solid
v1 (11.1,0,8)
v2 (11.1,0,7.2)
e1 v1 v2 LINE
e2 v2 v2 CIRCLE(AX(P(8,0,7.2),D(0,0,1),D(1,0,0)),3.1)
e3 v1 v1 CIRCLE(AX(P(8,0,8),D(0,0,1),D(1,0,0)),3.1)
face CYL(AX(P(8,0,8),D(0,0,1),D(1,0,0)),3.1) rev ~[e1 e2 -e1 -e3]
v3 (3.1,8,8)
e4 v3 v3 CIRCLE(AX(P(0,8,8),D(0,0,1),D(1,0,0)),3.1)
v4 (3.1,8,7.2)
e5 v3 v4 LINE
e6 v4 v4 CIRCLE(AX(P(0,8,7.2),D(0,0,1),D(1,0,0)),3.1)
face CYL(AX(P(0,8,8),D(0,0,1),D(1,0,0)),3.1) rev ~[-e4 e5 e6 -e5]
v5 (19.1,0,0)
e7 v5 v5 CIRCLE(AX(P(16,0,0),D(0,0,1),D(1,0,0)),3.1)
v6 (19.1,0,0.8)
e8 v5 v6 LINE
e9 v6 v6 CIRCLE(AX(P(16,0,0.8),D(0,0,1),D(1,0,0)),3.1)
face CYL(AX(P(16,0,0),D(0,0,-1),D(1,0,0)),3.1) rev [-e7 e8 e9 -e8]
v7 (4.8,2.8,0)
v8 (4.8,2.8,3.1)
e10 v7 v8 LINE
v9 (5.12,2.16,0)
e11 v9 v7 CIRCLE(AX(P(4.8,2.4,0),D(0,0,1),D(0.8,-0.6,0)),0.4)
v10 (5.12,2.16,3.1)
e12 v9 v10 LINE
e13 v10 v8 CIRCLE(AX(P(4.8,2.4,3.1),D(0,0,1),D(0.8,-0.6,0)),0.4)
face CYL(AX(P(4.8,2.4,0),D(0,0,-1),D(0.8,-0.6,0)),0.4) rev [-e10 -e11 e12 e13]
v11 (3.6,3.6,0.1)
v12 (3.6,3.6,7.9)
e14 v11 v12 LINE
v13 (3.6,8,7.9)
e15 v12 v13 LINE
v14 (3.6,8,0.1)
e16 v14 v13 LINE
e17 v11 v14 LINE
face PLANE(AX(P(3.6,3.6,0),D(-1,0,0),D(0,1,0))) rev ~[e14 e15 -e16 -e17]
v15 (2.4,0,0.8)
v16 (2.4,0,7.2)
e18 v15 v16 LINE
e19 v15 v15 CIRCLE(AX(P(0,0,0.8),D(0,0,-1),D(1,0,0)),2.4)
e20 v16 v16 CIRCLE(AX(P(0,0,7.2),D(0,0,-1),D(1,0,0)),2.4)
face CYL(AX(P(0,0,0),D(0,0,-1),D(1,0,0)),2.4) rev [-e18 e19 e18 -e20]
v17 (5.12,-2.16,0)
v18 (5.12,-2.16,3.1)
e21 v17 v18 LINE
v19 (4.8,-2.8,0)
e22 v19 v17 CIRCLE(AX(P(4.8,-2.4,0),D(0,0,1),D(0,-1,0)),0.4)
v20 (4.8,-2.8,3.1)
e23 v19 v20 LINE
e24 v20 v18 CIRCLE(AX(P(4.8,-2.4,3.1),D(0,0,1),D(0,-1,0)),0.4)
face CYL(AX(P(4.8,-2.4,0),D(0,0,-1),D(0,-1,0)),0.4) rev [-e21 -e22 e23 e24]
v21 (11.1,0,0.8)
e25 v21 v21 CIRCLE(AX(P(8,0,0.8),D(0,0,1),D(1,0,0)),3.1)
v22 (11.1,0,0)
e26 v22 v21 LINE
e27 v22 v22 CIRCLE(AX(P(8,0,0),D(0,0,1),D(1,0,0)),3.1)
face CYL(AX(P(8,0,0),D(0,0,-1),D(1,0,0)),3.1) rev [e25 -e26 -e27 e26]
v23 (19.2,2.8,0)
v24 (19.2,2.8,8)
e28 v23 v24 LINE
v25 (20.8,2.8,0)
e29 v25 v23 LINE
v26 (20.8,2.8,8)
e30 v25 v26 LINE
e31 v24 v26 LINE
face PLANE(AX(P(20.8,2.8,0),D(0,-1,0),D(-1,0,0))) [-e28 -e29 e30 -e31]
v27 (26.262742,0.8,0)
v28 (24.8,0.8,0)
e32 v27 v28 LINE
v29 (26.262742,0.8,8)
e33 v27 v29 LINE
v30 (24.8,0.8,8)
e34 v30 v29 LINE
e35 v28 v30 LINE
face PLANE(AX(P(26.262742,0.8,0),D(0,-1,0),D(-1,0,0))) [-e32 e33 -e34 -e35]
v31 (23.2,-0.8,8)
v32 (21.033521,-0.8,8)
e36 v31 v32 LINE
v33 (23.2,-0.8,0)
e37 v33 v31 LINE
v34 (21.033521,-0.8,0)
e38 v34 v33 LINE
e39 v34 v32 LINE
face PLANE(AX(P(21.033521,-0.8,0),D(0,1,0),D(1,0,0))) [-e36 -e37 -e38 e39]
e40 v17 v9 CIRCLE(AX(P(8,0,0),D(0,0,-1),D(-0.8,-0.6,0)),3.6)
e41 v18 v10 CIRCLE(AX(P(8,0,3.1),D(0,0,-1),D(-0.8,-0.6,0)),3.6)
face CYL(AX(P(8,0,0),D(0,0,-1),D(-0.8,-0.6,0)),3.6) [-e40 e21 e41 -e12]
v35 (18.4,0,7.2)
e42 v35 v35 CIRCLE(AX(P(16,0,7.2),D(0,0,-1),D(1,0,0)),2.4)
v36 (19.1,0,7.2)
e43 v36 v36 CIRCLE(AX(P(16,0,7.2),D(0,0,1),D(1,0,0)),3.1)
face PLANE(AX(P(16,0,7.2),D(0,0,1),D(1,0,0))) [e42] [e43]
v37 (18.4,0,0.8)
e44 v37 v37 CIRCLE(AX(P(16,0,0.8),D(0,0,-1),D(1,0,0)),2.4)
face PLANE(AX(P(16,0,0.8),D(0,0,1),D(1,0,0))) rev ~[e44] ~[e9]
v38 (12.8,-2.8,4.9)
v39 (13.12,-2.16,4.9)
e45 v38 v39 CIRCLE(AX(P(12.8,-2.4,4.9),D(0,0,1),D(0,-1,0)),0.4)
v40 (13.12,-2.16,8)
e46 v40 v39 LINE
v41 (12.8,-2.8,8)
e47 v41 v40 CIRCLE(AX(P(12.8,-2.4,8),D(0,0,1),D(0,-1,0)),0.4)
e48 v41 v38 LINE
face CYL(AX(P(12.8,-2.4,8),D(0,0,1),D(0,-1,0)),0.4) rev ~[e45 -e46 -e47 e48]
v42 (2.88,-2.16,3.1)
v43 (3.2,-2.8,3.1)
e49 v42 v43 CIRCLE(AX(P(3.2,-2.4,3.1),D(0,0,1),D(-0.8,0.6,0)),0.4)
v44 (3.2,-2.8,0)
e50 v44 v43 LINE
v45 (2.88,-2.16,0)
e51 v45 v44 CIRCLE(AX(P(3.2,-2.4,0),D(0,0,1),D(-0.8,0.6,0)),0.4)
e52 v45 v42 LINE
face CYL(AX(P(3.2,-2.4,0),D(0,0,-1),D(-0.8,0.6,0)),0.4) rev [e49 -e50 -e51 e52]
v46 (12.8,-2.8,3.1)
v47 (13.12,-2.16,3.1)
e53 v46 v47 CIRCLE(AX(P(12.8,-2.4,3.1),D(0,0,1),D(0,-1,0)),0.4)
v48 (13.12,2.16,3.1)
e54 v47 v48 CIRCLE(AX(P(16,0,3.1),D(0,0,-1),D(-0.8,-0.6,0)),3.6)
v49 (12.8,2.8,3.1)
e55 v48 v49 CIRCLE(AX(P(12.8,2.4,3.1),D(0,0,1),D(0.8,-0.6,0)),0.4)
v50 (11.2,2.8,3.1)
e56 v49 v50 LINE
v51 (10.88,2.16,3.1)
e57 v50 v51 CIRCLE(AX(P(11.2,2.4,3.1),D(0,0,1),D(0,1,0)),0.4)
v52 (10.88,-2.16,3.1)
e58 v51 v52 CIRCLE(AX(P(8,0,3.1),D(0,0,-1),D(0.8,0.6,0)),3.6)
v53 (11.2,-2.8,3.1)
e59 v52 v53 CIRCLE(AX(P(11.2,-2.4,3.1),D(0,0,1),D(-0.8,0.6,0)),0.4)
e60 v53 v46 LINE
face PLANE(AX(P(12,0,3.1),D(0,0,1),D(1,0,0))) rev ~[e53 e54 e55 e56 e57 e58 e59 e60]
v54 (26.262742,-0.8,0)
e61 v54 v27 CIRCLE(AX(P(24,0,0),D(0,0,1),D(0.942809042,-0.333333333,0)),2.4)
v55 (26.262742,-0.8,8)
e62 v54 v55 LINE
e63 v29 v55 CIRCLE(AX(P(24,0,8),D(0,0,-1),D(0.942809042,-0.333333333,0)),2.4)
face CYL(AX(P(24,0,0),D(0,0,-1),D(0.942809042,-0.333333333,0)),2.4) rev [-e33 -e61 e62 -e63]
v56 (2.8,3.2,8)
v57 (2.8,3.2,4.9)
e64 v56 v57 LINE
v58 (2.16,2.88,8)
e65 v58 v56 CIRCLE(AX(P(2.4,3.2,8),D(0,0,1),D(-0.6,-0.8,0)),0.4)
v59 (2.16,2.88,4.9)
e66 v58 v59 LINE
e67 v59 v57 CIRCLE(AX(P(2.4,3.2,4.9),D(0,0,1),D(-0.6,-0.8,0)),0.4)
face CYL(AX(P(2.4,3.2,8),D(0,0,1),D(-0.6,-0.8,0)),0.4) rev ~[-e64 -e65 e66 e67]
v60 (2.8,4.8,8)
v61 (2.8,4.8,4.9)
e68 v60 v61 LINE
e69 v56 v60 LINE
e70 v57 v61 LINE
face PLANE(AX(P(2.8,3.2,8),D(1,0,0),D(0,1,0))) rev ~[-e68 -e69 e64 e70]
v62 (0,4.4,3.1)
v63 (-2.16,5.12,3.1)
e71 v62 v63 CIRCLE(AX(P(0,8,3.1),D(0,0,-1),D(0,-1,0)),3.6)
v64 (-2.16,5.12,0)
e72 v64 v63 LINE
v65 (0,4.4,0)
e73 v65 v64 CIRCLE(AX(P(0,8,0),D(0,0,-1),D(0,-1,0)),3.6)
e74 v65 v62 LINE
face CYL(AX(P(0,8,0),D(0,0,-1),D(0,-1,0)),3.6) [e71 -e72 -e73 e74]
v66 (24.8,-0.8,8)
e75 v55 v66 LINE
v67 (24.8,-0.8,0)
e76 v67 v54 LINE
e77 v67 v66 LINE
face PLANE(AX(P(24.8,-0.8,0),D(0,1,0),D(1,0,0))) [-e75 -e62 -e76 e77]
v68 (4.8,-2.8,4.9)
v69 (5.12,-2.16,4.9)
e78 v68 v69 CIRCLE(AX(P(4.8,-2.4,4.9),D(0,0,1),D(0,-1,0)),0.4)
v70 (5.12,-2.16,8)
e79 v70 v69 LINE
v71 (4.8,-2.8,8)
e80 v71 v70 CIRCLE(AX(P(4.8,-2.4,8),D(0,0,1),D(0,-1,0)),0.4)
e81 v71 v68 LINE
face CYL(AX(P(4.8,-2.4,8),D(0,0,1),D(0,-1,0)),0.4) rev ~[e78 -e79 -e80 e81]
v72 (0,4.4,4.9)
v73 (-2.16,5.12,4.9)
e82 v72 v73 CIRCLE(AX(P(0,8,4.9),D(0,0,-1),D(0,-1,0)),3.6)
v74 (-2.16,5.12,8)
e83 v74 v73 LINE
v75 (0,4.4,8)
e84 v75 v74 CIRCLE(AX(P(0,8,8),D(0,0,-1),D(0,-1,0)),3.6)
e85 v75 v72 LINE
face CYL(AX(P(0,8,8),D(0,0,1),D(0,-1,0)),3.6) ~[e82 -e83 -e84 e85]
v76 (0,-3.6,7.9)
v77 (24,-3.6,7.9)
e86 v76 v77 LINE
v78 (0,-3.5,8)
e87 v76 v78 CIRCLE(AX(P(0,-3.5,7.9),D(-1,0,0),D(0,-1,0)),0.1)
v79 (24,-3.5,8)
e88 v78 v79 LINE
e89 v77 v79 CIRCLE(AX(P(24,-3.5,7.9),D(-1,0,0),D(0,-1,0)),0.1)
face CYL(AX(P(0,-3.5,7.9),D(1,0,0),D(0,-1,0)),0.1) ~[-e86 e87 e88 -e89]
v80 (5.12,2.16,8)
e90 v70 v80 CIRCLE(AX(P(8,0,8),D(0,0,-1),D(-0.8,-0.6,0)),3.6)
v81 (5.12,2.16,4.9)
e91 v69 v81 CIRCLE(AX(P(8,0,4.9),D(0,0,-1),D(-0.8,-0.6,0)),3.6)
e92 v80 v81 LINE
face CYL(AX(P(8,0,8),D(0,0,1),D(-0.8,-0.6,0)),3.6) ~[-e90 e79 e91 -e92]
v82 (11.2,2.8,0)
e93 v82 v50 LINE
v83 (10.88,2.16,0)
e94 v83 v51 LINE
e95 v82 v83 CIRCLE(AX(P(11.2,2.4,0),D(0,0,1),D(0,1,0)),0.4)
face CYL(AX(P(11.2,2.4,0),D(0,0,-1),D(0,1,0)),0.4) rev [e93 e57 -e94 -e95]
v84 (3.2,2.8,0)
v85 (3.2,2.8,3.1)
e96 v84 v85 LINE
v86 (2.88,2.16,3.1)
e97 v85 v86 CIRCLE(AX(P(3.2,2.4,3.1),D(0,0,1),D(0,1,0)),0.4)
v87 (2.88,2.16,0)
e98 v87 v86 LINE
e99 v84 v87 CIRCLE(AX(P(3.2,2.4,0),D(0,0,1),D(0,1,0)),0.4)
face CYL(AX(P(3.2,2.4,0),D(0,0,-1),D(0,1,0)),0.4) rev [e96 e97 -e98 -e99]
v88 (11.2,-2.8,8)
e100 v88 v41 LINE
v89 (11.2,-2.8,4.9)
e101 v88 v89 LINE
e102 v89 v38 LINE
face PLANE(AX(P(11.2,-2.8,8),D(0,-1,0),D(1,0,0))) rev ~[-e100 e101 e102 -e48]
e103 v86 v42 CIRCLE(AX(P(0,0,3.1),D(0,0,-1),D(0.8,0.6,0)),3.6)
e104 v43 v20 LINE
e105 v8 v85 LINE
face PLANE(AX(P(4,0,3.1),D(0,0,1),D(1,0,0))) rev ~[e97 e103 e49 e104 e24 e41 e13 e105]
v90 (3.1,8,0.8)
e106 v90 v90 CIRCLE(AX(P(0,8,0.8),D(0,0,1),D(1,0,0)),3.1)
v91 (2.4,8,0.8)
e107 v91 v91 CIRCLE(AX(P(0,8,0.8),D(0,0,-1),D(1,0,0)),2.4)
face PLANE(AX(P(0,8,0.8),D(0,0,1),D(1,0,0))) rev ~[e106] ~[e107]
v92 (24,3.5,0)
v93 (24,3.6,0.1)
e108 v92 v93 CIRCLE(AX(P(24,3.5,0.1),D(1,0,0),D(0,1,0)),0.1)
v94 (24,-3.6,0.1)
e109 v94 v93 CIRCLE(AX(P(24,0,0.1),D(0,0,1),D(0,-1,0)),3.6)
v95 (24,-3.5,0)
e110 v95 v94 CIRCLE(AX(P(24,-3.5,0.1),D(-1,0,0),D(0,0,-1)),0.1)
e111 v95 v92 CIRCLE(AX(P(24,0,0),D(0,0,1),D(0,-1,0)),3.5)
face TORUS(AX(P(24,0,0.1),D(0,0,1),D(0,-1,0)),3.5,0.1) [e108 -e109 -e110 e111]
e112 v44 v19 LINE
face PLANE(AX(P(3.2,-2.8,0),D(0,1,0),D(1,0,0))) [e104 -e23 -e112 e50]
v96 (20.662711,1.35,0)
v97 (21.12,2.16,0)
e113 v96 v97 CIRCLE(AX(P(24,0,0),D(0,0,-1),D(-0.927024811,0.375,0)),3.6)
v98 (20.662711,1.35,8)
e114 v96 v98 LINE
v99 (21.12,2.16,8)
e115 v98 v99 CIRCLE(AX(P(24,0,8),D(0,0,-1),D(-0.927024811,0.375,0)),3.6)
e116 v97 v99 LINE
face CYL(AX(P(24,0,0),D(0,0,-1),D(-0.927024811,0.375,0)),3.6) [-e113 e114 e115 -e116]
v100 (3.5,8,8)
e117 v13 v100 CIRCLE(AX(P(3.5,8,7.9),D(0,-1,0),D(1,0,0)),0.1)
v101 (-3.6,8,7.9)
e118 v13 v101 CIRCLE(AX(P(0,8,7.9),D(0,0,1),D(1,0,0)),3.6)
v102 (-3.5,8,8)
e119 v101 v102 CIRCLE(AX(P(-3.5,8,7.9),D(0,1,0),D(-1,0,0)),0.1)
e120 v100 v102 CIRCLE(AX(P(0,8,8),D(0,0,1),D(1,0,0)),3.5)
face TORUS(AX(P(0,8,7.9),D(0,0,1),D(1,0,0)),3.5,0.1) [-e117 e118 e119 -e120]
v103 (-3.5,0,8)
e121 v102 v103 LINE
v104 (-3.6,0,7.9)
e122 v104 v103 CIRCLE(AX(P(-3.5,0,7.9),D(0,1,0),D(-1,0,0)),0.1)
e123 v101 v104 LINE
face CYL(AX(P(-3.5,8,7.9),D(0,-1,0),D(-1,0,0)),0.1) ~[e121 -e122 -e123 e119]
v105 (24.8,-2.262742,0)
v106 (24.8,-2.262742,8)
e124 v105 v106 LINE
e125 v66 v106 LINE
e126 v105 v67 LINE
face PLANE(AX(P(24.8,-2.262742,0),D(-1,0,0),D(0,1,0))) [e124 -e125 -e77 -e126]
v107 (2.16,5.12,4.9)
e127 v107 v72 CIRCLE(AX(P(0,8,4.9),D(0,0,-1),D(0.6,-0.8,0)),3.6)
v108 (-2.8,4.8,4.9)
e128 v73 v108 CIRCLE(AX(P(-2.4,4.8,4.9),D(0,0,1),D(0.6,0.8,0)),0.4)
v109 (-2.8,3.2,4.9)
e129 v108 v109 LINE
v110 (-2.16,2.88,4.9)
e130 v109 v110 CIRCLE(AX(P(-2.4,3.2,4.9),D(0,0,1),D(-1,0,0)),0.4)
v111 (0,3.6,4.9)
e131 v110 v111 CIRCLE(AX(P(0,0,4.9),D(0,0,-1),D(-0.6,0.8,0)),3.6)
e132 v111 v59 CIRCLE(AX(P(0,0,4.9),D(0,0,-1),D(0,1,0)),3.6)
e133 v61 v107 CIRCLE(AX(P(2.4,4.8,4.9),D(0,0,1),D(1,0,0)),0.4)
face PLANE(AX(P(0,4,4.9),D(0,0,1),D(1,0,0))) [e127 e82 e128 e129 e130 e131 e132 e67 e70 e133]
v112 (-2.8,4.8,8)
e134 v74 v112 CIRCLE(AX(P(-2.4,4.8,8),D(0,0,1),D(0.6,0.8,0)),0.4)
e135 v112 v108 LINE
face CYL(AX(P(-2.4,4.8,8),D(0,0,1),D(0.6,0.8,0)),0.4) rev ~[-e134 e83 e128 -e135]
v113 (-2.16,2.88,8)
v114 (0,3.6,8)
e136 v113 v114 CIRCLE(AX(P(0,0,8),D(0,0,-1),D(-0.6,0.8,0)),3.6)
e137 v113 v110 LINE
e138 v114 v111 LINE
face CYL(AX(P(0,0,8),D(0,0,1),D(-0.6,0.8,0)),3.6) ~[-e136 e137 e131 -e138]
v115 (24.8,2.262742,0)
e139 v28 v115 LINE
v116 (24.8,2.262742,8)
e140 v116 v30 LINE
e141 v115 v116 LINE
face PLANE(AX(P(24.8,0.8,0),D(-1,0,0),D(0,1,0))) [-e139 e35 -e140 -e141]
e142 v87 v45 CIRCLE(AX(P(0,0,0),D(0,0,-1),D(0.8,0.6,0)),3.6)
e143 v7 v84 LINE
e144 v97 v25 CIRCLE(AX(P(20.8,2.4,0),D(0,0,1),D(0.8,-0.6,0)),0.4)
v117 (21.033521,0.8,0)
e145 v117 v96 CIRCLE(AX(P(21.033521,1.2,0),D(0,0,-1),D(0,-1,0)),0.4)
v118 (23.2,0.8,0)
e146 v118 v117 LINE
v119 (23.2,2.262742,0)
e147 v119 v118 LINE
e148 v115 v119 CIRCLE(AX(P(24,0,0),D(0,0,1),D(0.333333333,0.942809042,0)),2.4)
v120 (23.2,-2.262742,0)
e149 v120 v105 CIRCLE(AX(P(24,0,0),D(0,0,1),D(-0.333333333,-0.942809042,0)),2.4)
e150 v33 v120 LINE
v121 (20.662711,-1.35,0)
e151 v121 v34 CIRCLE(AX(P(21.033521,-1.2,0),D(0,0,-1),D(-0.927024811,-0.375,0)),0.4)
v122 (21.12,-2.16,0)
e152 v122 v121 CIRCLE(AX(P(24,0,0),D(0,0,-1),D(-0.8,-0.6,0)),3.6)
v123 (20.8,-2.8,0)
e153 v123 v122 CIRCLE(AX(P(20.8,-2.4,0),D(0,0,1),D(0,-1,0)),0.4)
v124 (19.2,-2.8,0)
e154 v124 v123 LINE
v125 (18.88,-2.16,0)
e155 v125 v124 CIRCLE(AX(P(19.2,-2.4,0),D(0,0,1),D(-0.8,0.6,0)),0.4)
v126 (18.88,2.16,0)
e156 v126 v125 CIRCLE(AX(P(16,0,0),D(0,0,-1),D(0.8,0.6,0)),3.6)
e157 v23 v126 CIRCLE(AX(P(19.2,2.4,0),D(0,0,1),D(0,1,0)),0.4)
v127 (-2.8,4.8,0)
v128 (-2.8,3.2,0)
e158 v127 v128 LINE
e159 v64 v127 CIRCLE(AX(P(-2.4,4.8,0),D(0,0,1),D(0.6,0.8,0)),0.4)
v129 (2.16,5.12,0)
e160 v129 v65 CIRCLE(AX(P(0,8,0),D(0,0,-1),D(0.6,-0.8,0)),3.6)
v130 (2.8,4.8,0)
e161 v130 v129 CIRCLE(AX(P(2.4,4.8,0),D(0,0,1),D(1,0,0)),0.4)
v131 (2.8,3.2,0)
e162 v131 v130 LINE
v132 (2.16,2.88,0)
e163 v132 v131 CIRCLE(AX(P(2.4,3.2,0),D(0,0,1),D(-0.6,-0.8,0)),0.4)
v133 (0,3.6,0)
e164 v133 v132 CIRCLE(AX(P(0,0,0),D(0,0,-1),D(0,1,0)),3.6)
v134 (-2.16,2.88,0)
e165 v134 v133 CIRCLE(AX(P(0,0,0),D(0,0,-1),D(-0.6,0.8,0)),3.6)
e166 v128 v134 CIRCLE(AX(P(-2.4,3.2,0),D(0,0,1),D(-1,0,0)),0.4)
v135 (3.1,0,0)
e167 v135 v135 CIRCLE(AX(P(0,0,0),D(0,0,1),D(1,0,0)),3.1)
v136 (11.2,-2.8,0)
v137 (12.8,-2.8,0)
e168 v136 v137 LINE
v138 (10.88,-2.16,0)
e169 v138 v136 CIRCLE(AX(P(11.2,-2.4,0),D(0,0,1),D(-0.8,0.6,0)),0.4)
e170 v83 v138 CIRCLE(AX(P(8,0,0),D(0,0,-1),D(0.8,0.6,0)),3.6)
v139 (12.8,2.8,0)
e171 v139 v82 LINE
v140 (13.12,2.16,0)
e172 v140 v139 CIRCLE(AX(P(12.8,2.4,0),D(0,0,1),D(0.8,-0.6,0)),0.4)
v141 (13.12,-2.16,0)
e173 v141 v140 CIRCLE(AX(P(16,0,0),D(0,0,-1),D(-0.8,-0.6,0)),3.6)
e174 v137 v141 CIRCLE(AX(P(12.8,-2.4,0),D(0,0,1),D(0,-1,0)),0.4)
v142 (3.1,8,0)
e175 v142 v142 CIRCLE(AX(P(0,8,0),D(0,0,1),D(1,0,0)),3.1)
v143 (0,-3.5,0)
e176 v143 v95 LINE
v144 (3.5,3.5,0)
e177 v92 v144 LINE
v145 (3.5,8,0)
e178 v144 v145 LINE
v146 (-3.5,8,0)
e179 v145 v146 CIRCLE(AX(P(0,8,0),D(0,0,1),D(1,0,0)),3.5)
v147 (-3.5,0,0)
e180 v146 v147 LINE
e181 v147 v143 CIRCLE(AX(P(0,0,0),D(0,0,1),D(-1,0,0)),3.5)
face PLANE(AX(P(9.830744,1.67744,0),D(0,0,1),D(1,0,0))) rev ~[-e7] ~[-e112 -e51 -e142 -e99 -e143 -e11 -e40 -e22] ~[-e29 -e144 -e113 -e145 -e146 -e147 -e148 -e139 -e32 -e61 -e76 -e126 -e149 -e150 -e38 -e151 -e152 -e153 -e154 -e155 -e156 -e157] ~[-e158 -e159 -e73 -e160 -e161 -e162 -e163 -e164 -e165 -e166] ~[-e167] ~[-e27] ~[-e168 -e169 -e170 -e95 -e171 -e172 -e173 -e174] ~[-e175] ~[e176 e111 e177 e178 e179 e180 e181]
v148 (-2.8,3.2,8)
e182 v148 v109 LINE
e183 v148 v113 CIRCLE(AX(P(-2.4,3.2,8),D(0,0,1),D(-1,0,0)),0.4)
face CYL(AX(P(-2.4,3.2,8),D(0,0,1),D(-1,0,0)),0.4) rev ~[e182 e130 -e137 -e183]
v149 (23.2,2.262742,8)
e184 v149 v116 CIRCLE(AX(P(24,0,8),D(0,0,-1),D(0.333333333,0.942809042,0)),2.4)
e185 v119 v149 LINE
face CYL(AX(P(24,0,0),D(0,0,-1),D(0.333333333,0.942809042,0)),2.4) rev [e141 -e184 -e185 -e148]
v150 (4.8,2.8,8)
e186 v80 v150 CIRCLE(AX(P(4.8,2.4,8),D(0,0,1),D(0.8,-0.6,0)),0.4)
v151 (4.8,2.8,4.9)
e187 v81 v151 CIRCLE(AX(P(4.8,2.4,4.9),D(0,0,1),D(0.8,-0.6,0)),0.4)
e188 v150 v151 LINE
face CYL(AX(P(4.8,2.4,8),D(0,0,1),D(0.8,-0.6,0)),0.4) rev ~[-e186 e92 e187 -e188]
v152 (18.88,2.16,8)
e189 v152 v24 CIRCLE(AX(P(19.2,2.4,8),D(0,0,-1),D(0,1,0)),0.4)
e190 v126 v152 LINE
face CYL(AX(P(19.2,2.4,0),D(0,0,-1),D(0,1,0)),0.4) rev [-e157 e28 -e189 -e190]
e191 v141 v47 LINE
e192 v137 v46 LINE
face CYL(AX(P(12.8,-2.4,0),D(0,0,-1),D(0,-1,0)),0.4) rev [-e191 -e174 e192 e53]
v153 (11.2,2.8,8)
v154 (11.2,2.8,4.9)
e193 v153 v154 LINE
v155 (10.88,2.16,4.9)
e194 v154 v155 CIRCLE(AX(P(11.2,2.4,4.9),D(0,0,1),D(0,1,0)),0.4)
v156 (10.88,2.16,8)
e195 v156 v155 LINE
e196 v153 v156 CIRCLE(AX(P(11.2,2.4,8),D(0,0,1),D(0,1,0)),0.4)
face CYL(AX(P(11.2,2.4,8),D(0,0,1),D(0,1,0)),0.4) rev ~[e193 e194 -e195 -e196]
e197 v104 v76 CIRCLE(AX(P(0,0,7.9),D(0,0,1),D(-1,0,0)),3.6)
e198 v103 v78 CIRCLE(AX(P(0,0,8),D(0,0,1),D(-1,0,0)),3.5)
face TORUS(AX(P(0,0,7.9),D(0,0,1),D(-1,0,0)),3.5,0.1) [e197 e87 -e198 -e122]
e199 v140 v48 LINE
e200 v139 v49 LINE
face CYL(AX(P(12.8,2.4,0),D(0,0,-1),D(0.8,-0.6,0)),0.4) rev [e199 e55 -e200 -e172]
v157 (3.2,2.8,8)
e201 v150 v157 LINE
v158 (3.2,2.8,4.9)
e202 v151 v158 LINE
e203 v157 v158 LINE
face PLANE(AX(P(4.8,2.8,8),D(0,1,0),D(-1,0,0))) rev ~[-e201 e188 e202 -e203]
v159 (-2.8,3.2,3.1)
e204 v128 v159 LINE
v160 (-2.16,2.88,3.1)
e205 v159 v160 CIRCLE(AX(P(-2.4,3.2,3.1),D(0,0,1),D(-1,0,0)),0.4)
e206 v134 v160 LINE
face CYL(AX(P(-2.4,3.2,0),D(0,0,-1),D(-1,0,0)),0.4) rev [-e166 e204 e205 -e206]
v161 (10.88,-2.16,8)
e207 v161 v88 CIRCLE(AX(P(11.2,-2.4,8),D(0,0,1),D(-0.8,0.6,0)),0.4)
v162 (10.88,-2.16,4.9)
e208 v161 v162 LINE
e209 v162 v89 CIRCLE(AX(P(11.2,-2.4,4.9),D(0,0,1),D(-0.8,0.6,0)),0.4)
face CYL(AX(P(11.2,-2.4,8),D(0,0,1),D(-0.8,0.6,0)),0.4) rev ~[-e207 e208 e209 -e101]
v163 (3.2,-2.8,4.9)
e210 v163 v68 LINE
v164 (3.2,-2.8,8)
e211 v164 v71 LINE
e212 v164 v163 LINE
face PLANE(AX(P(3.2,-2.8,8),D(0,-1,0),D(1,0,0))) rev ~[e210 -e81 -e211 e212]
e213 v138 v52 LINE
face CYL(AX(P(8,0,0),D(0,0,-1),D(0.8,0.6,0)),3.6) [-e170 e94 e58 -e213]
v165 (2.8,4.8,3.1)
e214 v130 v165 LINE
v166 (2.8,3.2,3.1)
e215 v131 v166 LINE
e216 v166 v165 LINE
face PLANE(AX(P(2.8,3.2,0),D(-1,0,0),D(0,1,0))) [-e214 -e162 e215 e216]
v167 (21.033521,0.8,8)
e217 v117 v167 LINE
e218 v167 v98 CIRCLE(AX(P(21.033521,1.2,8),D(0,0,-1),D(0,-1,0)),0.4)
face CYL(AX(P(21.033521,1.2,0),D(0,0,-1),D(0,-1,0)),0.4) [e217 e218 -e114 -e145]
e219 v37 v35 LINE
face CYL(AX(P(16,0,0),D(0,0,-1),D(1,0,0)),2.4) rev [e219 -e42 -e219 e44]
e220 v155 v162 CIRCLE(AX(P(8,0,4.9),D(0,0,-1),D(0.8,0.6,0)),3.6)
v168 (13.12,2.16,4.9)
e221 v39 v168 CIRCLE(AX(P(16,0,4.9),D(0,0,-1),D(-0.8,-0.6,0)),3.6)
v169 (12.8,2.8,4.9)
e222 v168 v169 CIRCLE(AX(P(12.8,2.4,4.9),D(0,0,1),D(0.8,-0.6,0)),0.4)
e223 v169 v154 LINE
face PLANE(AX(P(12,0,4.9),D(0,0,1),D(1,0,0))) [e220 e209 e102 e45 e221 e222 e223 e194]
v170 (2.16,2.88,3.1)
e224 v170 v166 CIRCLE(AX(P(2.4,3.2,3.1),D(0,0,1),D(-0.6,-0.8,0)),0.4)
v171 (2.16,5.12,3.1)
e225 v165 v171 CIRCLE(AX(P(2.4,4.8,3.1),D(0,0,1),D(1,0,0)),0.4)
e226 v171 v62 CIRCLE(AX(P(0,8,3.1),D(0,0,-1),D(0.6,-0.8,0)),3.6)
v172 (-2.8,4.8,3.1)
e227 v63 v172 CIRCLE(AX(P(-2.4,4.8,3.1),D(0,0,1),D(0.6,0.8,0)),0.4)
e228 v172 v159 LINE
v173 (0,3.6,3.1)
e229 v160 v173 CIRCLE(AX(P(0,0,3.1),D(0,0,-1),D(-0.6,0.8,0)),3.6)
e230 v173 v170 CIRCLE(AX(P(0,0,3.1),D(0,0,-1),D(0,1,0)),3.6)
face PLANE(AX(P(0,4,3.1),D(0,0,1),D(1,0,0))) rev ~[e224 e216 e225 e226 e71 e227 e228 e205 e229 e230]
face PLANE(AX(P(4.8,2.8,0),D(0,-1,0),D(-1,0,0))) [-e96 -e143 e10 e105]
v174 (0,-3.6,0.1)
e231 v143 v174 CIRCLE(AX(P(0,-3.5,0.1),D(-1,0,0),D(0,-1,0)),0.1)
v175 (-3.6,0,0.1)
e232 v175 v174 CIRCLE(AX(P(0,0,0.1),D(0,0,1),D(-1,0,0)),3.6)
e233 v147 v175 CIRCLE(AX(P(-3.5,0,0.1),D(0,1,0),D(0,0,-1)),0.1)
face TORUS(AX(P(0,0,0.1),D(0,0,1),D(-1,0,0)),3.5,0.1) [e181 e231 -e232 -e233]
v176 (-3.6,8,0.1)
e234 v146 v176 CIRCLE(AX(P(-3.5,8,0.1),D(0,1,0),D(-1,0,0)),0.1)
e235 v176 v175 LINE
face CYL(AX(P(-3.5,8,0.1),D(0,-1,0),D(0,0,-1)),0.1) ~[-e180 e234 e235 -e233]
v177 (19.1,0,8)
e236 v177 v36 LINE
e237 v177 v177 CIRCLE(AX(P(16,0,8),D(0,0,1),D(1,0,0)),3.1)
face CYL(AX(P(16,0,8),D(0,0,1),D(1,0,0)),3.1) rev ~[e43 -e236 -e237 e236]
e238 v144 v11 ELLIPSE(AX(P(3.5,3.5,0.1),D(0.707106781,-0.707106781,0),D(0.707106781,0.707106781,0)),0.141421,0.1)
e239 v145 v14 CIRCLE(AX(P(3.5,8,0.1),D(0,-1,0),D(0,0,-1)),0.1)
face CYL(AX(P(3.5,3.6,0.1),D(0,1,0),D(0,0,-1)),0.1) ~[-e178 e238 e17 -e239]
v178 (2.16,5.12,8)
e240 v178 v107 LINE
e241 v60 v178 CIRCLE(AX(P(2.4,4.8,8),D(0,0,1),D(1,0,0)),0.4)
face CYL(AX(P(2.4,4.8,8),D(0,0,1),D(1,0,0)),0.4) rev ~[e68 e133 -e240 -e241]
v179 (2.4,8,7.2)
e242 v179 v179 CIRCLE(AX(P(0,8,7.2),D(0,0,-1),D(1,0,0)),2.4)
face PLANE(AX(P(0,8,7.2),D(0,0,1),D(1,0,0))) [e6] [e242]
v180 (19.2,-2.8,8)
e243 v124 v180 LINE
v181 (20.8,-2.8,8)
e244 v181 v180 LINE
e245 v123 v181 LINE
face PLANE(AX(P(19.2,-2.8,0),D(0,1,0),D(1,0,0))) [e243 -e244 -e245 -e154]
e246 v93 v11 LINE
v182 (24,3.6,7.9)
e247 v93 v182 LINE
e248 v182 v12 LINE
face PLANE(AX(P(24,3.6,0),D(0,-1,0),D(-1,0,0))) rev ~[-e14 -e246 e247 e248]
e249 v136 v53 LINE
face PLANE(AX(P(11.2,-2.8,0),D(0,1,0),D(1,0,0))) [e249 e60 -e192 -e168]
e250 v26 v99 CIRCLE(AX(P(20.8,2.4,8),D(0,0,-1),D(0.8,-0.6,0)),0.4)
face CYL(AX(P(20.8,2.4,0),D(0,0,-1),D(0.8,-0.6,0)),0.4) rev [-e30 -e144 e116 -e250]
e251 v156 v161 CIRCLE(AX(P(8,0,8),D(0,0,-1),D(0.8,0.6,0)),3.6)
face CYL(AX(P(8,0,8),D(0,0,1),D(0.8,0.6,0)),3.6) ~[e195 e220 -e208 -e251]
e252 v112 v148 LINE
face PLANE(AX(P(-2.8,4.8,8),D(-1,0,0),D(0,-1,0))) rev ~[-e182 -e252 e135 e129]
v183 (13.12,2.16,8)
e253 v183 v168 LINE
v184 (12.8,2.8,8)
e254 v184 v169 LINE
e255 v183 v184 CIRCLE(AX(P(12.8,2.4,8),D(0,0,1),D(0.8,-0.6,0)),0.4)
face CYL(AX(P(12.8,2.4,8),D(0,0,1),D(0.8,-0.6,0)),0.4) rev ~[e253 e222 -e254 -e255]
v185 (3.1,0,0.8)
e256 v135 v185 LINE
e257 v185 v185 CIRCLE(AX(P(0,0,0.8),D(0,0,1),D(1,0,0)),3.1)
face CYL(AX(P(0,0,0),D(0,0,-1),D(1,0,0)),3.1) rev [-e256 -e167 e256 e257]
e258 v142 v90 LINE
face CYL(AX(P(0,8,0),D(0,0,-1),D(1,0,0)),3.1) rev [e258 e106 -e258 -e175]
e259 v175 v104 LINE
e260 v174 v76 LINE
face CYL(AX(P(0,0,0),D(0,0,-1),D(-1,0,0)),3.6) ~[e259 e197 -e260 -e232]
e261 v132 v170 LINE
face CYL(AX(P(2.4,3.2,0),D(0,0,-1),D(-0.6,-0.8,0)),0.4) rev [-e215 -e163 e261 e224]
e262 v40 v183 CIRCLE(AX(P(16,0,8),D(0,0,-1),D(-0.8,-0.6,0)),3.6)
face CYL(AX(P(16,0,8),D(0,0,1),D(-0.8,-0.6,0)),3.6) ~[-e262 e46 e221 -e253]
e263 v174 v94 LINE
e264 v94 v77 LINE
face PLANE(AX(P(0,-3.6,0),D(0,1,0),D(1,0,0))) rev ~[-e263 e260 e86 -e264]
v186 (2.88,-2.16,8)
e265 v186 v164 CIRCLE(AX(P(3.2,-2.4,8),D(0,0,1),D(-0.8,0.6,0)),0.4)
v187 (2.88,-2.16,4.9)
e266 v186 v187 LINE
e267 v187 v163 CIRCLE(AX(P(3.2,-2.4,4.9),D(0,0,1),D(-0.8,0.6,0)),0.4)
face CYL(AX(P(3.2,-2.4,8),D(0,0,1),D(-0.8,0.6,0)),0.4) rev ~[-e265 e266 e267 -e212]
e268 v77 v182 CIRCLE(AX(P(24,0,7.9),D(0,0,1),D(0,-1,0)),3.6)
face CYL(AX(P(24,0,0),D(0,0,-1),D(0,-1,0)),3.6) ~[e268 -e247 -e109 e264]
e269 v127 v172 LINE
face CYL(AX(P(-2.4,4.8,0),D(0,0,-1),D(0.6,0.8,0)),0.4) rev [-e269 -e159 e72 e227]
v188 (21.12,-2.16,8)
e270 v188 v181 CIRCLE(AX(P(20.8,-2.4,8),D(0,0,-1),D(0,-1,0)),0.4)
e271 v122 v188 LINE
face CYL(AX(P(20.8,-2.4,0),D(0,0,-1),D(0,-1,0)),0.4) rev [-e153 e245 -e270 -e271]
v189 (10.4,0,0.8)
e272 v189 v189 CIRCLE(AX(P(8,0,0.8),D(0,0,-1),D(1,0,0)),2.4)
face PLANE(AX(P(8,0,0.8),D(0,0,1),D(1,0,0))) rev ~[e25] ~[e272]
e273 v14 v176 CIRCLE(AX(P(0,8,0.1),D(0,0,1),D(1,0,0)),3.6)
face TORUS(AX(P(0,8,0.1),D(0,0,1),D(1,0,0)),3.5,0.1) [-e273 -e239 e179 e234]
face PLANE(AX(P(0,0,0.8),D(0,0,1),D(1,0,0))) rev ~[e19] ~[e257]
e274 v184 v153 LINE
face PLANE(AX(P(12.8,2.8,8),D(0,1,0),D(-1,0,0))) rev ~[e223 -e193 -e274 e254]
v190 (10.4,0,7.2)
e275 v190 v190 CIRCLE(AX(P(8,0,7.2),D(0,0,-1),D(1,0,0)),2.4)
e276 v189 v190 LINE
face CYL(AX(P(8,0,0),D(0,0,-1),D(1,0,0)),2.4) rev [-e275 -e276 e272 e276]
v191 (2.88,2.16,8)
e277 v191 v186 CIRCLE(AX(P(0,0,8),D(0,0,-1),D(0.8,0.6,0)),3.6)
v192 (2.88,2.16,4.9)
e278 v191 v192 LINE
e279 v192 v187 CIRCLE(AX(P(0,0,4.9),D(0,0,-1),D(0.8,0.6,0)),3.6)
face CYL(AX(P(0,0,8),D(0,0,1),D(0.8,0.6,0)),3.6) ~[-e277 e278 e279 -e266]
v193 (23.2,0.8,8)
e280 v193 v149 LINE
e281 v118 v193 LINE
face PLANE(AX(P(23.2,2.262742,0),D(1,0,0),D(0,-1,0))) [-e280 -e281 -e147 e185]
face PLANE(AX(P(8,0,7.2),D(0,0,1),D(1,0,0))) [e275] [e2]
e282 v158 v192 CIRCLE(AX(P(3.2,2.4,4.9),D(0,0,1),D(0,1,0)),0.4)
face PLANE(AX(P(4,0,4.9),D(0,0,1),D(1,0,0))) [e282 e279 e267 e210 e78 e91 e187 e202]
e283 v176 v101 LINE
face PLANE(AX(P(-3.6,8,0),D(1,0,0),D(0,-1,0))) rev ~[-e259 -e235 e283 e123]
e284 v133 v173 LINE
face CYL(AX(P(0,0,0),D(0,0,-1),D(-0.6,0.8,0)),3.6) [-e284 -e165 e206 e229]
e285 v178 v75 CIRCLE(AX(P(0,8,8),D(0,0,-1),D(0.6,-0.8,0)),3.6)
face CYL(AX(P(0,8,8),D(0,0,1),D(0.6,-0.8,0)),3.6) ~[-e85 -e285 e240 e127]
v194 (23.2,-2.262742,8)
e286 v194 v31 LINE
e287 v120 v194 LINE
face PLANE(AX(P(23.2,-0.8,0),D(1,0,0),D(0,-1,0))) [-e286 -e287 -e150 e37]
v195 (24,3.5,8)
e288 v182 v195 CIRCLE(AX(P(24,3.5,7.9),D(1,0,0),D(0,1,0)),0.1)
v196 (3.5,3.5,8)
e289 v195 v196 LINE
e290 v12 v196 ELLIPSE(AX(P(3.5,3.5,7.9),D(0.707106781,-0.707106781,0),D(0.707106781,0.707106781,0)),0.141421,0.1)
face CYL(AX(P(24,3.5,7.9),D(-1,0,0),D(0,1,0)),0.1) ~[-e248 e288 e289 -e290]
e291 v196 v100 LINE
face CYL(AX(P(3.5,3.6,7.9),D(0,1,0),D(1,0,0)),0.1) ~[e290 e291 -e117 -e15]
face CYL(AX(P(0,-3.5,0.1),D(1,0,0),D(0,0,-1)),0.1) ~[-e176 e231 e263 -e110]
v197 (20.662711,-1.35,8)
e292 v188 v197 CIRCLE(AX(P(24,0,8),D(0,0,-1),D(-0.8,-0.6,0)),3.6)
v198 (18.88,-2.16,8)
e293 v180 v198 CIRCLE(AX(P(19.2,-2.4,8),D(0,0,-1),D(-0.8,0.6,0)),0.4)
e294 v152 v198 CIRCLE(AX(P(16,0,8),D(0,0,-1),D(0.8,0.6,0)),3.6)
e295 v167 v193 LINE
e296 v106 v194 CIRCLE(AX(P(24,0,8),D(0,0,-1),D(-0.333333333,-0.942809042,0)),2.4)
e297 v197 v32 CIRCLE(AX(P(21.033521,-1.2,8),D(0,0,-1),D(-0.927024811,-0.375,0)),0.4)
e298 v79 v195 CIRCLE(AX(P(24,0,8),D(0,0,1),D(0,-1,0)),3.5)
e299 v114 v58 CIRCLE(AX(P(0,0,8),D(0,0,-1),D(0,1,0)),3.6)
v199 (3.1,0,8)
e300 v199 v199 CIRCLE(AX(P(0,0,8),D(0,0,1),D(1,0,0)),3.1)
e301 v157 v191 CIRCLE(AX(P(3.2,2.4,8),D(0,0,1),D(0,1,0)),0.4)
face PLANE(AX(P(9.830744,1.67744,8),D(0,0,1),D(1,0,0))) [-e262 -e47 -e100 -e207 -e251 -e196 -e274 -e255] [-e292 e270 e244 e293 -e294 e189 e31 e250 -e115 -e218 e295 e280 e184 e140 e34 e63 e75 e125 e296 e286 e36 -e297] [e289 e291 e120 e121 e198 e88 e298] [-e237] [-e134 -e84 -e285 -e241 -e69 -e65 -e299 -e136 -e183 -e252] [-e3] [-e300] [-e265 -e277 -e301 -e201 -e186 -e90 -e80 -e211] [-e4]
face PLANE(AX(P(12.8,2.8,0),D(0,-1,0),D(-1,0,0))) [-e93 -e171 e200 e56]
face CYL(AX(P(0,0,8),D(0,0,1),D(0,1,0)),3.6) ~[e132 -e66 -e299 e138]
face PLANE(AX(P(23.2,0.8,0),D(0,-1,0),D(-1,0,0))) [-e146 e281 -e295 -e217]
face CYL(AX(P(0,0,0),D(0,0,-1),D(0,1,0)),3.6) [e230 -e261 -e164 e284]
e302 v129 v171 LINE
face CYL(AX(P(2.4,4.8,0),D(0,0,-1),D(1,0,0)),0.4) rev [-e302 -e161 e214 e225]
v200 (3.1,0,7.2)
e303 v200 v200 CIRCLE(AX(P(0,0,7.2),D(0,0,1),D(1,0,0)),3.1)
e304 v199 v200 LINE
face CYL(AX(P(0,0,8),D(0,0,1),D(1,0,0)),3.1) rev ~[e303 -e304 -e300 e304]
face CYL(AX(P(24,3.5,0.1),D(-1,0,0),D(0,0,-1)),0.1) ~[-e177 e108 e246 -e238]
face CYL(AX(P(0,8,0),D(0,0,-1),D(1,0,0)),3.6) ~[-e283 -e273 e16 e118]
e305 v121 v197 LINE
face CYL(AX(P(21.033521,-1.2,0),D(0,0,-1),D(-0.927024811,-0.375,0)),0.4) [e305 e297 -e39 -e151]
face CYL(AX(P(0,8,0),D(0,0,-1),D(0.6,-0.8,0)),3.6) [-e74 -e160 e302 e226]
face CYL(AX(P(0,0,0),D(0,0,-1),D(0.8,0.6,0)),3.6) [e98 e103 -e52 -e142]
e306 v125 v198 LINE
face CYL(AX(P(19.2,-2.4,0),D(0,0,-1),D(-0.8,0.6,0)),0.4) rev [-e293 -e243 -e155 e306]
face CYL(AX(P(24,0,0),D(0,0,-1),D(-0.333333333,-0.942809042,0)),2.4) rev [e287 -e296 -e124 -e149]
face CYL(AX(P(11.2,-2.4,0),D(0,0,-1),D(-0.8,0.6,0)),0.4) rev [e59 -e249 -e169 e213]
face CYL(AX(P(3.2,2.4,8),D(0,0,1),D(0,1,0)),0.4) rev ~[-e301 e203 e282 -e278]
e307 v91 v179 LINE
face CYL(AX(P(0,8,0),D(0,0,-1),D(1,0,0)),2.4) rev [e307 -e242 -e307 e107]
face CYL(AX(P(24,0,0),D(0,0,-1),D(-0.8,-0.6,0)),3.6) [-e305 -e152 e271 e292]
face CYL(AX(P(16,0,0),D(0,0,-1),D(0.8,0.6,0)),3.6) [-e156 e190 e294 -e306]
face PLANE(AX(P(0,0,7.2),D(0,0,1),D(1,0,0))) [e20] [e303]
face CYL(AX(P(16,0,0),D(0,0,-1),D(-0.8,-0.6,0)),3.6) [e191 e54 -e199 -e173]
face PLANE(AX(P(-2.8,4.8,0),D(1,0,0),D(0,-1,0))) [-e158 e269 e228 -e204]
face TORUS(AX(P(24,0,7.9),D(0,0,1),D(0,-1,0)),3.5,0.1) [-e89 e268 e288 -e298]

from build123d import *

# Parameters (mm, degrees)
F2_DEPTH  = 8
F3_DEPTH  = 8.001
F4_R      = 2.4
F5_DEPTH  = 8.001
F6_R      = 3.1
F7_DEPTH  = 0.8
F8_R      = 3.1
F9_DEPTH  = 0.8
F10_R     = 0.1
F11_R     = 0.1
F13_DEPTH = 3.1
F15_DEPTH = 3.1


with BuildPart() as f2:
    # F1 (on Top) → F2 (new body)
    with BuildSketch(Plane.XY):
        with BuildLine():
            ThreePointArc((3.6, 8), (0, 11.6), (-3.6, 8))
            Line((-3.6, 8), (-3.6, 0))
            ThreePointArc((-3.6, 0), (-2.5455844123, -2.5455844123), (0, -3.6))
            Line((0, -3.6), (24, -3.6))
            ThreePointArc((24, -3.6), (27.6, 0), (24, 3.6))
            Line((24, 3.6), (3.6, 3.6))
            Line((3.6, 3.6), (3.6, 8))
        make_face()
    extrude(amount=F2_DEPTH)

    # F0 (on Top) → F3 (cut, through all)
    with BuildSketch(Plane.XY):
        with BuildLine():
            Line((20.8, 2.8), (20, 2.8))
            Line((20, 2.8), (19.2, 2.8))
            ThreePointArc((19.2, 2.8), (18.8422291236, 2.5788854382), (18.88, 2.16))
            ThreePointArc((18.88, 2.16), (19.6, 0), (18.88, -2.16))
            ThreePointArc((18.88, -2.16), (18.8422291236, -2.5788854382), (19.2, -2.8))
            Line((19.2, -2.8), (20, -2.8))
            Line((20, -2.8), (20.8, -2.8))
            ThreePointArc((20.8, -2.8), (21.1577708764, -2.5788854382), (21.12, -2.16))
            ThreePointArc((21.12, -2.16), (20.8650842723, -1.7698314554), (20.6627106808, -1.35))
            ThreePointArc((20.6627106808, -1.35), (20.7018581261, -0.9763932023), (21.0335206052, -0.8))
            Line((21.0335206052, -0.8), (23.2, -0.8))
            Line((23.2, -0.8), (23.2, -2.2627416998))
            ThreePointArc((23.2, -2.2627416998), (24, -2.4), (24.8, -2.2627416998))
            Line((24.8, -2.2627416998), (24.8, -0.8))
            Line((24.8, -0.8), (26.2627416998, -0.8))
            ThreePointArc((26.2627416998, -0.8), (26.4, 0), (26.2627416998, 0.8))
            Line((26.2627416998, 0.8), (24.8, 0.8))
            Line((24.8, 0.8), (24.8, 2.2627416998))
            ThreePointArc((24.8, 2.2627416998), (24, 2.4), (23.2, 2.2627416998))
            Line((23.2, 2.2627416998), (23.2, 0.8))
            Line((23.2, 0.8), (21.0335206052, 0.8))
            ThreePointArc((21.0335206052, 0.8), (20.7018581261, 0.9763932023), (20.6627106808, 1.35))
            ThreePointArc((20.6627106808, 1.35), (20.8650842723, 1.7698314554), (21.12, 2.16))
            ThreePointArc((21.12, 2.16), (21.1577708764, 2.5788854382), (20.8, 2.8))
        make_face()
    extrude(amount=F3_DEPTH, mode=Mode.SUBTRACT)

    # F4 (on face) → F5 (cut, through all)
    with BuildSketch(Plane.XY):
        with Locations((16, 0)):
            Circle(F4_R)
        with Locations((8, 0)):
            Circle(F4_R)
        Circle(F4_R)
        with Locations((0, 8)):
            Circle(F4_R)
    extrude(amount=F5_DEPTH, mode=Mode.SUBTRACT)

    # F6 (on face) → F7 (cut)
    with BuildSketch(Plane.XY):
        with Locations((16, 0)):
            Circle(F6_R)
        with Locations((8, 0)):
            Circle(F6_R)
        Circle(F6_R)
        with Locations((0, 8)):
            Circle(F6_R)
    extrude(amount=F7_DEPTH, mode=Mode.SUBTRACT)

    # F8 (on face) → F9 (cut)
    with BuildSketch(Plane.XY.offset(8)):
        Circle(F8_R)
        with Locations((0, 8)):
            Circle(F8_R)
        with Locations((8, 0)):
            Circle(F8_R)
        with Locations((16, 0)):
            Circle(F8_R)
    extrude(amount=-F9_DEPTH, mode=Mode.SUBTRACT)

    # F10
    f10_edges = [f2.edges().sort_by_distance(p)[0] for p in [
        (0, 11.6, 8),
        (3.6, 5.8, 8),
        (13.8, 3.6, 8),
        (27.6, 0, 8),
        (12, -3.6, 8),
        (-2.545584, -2.545584, 8),
        (-3.6, 4, 8),
    ]]
    fillet(f10_edges, radius=F10_R)

    # F11
    f11_edges = [f2.edges().sort_by_distance(p)[0] for p in [
        (12, -3.6, 0),
        (27.6, 0, 0),
        (13.8, 3.6, 0),
        (3.6, 5.8, 0),
        (0, 11.6, 0),
        (-3.6, 4, 0),
        (-2.545584, -2.545584, 0),
    ]]
    fillet(f11_edges, radius=F11_R)

    # F12 (on face) → F13 (cut)
    with BuildSketch(Plane.XY):
        with BuildLine():
            Line((4, -2.8), (4.8, -2.8))
            ThreePointArc((4.8, -2.8), (5.1577708764, -2.5788854382), (5.12, -2.16))
            ThreePointArc((5.12, -2.16), (4.4, 0), (5.12, 2.16))
            ThreePointArc((5.12, 2.16), (5.1577708764, 2.5788854382), (4.8, 2.8))
            Line((4.8, 2.8), (4, 2.8))
            Line((4, 2.8), (3.2, 2.8))
            ThreePointArc((3.2, 2.8), (2.8422291236, 2.5788854382), (2.88, 2.16))
            ThreePointArc((2.88, 2.16), (3.6, 0), (2.88, -2.16))
            ThreePointArc((2.88, -2.16), (2.8422291236, -2.5788854382), (3.2, -2.8))
            Line((3.2, -2.8), (4, -2.8))
        make_face()
        with BuildLine():
            Line((2.8, 3.2), (2.8, 4))
            Line((2.8, 4), (2.8, 4.8))
            ThreePointArc((2.8, 4.8), (2.5788854382, 5.1577708764), (2.16, 5.12))
            ThreePointArc((2.16, 5.12), (1.1384199577, 4.584740127), (0, 4.4))
            ThreePointArc((0, 4.4), (-1.1384199577, 4.584740127), (-2.16, 5.12))
            ThreePointArc((-2.16, 5.12), (-2.5788854382, 5.1577708764), (-2.8, 4.8))
            Line((-2.8, 4.8), (-2.8, 4))
            Line((-2.8, 4), (-2.8, 3.2))
            ThreePointArc((-2.8, 3.2), (-2.5788854382, 2.8422291236), (-2.16, 2.88))
            ThreePointArc((-2.16, 2.88), (-1.1384199577, 3.415259873), (0, 3.6))
            ThreePointArc((0, 3.6), (1.1384199577, 3.415259873), (2.16, 2.88))
            ThreePointArc((2.16, 2.88), (2.5788854382, 2.8422291236), (2.8, 3.2))
        make_face()
        with BuildLine():
            ThreePointArc((10.88, -2.16), (10.8422291236, -2.5788854382), (11.2, -2.8))
            Line((11.2, -2.8), (12, -2.8))
            Line((12, -2.8), (12.8, -2.8))
            ThreePointArc((12.8, -2.8), (13.1577708764, -2.5788854382), (13.12, -2.16))
            ThreePointArc((13.12, -2.16), (12.4, 0), (13.12, 2.16))
            ThreePointArc((13.12, 2.16), (13.1577708764, 2.5788854382), (12.8, 2.8))
            Line((12.8, 2.8), (12, 2.8))
            Line((12, 2.8), (11.2, 2.8))
            ThreePointArc((11.2, 2.8), (10.8422291236, 2.5788854382), (10.88, 2.16))
            ThreePointArc((10.88, 2.16), (11.6, 0), (10.88, -2.16))
        make_face()
    extrude(amount=F13_DEPTH, mode=Mode.SUBTRACT)

    # F14 (on face) → F15 (cut)
    with BuildSketch(Plane.XY.offset(8)):
        with BuildLine():
            ThreePointArc((10.88, -2.16), (10.8422291236, -2.5788854382), (11.2, -2.8))
            Line((11.2, -2.8), (12, -2.8))
            Line((12, -2.8), (12.8, -2.8))
            ThreePointArc((12.8, -2.8), (13.1577708764, -2.5788854382), (13.12, -2.16))
            ThreePointArc((13.12, -2.16), (12.4, 0), (13.12, 2.16))
            ThreePointArc((13.12, 2.16), (13.1577708764, 2.5788854382), (12.8, 2.8))
            Line((12.8, 2.8), (12, 2.8))
            Line((12, 2.8), (11.2, 2.8))
            ThreePointArc((11.2, 2.8), (10.8422291236, 2.5788854382), (10.88, 2.16))
            ThreePointArc((10.88, 2.16), (11.6, 0), (10.88, -2.16))
        make_face()
        with BuildLine():
            Line((4, -2.8), (4.8, -2.8))
            ThreePointArc((4.8, -2.8), (5.1577708764, -2.5788854382), (5.12, -2.16))
            ThreePointArc((5.12, -2.16), (4.4, 0), (5.12, 2.16))
            ThreePointArc((5.12, 2.16), (5.1577708764, 2.5788854382), (4.8, 2.8))
            Line((4.8, 2.8), (4, 2.8))
            Line((4, 2.8), (3.2, 2.8))
            ThreePointArc((3.2, 2.8), (2.8422291236, 2.5788854382), (2.88, 2.16))
            ThreePointArc((2.88, 2.16), (3.6, 0), (2.88, -2.16))
            ThreePointArc((2.88, -2.16), (2.8422291236, -2.5788854382), (3.2, -2.8))
            Line((3.2, -2.8), (4, -2.8))
        make_face()
        with BuildLine():
            ThreePointArc((-2.16, 2.88), (-1.1384199577, 3.415259873), (0, 3.6))
            ThreePointArc((0, 3.6), (1.1384199577, 3.415259873), (2.16, 2.88))
            ThreePointArc((2.16, 2.88), (2.5788854382, 2.8422291236), (2.8, 3.2))
            Line((2.8, 3.2), (2.8, 4))
            Line((2.8, 4), (2.8, 4.8))
            ThreePointArc((2.8, 4.8), (2.5788854382, 5.1577708764), (2.16, 5.12))
            ThreePointArc((2.16, 5.12), (1.1384199577, 4.584740127), (0, 4.4))
            ThreePointArc((0, 4.4), (-1.1384199577, 4.584740127), (-2.16, 5.12))
            ThreePointArc((-2.16, 5.12), (-2.5788854382, 5.1577708764), (-2.8, 4.8))
            Line((-2.8, 4.8), (-2.8, 4))
            Line((-2.8, 4), (-2.8, 3.2))
            ThreePointArc((-2.8, 3.2), (-2.5788854382, 2.8422291236), (-2.16, 2.88))
        make_face()
    extrude(amount=-F15_DEPTH, mode=Mode.SUBTRACT)


solid = f2.part
